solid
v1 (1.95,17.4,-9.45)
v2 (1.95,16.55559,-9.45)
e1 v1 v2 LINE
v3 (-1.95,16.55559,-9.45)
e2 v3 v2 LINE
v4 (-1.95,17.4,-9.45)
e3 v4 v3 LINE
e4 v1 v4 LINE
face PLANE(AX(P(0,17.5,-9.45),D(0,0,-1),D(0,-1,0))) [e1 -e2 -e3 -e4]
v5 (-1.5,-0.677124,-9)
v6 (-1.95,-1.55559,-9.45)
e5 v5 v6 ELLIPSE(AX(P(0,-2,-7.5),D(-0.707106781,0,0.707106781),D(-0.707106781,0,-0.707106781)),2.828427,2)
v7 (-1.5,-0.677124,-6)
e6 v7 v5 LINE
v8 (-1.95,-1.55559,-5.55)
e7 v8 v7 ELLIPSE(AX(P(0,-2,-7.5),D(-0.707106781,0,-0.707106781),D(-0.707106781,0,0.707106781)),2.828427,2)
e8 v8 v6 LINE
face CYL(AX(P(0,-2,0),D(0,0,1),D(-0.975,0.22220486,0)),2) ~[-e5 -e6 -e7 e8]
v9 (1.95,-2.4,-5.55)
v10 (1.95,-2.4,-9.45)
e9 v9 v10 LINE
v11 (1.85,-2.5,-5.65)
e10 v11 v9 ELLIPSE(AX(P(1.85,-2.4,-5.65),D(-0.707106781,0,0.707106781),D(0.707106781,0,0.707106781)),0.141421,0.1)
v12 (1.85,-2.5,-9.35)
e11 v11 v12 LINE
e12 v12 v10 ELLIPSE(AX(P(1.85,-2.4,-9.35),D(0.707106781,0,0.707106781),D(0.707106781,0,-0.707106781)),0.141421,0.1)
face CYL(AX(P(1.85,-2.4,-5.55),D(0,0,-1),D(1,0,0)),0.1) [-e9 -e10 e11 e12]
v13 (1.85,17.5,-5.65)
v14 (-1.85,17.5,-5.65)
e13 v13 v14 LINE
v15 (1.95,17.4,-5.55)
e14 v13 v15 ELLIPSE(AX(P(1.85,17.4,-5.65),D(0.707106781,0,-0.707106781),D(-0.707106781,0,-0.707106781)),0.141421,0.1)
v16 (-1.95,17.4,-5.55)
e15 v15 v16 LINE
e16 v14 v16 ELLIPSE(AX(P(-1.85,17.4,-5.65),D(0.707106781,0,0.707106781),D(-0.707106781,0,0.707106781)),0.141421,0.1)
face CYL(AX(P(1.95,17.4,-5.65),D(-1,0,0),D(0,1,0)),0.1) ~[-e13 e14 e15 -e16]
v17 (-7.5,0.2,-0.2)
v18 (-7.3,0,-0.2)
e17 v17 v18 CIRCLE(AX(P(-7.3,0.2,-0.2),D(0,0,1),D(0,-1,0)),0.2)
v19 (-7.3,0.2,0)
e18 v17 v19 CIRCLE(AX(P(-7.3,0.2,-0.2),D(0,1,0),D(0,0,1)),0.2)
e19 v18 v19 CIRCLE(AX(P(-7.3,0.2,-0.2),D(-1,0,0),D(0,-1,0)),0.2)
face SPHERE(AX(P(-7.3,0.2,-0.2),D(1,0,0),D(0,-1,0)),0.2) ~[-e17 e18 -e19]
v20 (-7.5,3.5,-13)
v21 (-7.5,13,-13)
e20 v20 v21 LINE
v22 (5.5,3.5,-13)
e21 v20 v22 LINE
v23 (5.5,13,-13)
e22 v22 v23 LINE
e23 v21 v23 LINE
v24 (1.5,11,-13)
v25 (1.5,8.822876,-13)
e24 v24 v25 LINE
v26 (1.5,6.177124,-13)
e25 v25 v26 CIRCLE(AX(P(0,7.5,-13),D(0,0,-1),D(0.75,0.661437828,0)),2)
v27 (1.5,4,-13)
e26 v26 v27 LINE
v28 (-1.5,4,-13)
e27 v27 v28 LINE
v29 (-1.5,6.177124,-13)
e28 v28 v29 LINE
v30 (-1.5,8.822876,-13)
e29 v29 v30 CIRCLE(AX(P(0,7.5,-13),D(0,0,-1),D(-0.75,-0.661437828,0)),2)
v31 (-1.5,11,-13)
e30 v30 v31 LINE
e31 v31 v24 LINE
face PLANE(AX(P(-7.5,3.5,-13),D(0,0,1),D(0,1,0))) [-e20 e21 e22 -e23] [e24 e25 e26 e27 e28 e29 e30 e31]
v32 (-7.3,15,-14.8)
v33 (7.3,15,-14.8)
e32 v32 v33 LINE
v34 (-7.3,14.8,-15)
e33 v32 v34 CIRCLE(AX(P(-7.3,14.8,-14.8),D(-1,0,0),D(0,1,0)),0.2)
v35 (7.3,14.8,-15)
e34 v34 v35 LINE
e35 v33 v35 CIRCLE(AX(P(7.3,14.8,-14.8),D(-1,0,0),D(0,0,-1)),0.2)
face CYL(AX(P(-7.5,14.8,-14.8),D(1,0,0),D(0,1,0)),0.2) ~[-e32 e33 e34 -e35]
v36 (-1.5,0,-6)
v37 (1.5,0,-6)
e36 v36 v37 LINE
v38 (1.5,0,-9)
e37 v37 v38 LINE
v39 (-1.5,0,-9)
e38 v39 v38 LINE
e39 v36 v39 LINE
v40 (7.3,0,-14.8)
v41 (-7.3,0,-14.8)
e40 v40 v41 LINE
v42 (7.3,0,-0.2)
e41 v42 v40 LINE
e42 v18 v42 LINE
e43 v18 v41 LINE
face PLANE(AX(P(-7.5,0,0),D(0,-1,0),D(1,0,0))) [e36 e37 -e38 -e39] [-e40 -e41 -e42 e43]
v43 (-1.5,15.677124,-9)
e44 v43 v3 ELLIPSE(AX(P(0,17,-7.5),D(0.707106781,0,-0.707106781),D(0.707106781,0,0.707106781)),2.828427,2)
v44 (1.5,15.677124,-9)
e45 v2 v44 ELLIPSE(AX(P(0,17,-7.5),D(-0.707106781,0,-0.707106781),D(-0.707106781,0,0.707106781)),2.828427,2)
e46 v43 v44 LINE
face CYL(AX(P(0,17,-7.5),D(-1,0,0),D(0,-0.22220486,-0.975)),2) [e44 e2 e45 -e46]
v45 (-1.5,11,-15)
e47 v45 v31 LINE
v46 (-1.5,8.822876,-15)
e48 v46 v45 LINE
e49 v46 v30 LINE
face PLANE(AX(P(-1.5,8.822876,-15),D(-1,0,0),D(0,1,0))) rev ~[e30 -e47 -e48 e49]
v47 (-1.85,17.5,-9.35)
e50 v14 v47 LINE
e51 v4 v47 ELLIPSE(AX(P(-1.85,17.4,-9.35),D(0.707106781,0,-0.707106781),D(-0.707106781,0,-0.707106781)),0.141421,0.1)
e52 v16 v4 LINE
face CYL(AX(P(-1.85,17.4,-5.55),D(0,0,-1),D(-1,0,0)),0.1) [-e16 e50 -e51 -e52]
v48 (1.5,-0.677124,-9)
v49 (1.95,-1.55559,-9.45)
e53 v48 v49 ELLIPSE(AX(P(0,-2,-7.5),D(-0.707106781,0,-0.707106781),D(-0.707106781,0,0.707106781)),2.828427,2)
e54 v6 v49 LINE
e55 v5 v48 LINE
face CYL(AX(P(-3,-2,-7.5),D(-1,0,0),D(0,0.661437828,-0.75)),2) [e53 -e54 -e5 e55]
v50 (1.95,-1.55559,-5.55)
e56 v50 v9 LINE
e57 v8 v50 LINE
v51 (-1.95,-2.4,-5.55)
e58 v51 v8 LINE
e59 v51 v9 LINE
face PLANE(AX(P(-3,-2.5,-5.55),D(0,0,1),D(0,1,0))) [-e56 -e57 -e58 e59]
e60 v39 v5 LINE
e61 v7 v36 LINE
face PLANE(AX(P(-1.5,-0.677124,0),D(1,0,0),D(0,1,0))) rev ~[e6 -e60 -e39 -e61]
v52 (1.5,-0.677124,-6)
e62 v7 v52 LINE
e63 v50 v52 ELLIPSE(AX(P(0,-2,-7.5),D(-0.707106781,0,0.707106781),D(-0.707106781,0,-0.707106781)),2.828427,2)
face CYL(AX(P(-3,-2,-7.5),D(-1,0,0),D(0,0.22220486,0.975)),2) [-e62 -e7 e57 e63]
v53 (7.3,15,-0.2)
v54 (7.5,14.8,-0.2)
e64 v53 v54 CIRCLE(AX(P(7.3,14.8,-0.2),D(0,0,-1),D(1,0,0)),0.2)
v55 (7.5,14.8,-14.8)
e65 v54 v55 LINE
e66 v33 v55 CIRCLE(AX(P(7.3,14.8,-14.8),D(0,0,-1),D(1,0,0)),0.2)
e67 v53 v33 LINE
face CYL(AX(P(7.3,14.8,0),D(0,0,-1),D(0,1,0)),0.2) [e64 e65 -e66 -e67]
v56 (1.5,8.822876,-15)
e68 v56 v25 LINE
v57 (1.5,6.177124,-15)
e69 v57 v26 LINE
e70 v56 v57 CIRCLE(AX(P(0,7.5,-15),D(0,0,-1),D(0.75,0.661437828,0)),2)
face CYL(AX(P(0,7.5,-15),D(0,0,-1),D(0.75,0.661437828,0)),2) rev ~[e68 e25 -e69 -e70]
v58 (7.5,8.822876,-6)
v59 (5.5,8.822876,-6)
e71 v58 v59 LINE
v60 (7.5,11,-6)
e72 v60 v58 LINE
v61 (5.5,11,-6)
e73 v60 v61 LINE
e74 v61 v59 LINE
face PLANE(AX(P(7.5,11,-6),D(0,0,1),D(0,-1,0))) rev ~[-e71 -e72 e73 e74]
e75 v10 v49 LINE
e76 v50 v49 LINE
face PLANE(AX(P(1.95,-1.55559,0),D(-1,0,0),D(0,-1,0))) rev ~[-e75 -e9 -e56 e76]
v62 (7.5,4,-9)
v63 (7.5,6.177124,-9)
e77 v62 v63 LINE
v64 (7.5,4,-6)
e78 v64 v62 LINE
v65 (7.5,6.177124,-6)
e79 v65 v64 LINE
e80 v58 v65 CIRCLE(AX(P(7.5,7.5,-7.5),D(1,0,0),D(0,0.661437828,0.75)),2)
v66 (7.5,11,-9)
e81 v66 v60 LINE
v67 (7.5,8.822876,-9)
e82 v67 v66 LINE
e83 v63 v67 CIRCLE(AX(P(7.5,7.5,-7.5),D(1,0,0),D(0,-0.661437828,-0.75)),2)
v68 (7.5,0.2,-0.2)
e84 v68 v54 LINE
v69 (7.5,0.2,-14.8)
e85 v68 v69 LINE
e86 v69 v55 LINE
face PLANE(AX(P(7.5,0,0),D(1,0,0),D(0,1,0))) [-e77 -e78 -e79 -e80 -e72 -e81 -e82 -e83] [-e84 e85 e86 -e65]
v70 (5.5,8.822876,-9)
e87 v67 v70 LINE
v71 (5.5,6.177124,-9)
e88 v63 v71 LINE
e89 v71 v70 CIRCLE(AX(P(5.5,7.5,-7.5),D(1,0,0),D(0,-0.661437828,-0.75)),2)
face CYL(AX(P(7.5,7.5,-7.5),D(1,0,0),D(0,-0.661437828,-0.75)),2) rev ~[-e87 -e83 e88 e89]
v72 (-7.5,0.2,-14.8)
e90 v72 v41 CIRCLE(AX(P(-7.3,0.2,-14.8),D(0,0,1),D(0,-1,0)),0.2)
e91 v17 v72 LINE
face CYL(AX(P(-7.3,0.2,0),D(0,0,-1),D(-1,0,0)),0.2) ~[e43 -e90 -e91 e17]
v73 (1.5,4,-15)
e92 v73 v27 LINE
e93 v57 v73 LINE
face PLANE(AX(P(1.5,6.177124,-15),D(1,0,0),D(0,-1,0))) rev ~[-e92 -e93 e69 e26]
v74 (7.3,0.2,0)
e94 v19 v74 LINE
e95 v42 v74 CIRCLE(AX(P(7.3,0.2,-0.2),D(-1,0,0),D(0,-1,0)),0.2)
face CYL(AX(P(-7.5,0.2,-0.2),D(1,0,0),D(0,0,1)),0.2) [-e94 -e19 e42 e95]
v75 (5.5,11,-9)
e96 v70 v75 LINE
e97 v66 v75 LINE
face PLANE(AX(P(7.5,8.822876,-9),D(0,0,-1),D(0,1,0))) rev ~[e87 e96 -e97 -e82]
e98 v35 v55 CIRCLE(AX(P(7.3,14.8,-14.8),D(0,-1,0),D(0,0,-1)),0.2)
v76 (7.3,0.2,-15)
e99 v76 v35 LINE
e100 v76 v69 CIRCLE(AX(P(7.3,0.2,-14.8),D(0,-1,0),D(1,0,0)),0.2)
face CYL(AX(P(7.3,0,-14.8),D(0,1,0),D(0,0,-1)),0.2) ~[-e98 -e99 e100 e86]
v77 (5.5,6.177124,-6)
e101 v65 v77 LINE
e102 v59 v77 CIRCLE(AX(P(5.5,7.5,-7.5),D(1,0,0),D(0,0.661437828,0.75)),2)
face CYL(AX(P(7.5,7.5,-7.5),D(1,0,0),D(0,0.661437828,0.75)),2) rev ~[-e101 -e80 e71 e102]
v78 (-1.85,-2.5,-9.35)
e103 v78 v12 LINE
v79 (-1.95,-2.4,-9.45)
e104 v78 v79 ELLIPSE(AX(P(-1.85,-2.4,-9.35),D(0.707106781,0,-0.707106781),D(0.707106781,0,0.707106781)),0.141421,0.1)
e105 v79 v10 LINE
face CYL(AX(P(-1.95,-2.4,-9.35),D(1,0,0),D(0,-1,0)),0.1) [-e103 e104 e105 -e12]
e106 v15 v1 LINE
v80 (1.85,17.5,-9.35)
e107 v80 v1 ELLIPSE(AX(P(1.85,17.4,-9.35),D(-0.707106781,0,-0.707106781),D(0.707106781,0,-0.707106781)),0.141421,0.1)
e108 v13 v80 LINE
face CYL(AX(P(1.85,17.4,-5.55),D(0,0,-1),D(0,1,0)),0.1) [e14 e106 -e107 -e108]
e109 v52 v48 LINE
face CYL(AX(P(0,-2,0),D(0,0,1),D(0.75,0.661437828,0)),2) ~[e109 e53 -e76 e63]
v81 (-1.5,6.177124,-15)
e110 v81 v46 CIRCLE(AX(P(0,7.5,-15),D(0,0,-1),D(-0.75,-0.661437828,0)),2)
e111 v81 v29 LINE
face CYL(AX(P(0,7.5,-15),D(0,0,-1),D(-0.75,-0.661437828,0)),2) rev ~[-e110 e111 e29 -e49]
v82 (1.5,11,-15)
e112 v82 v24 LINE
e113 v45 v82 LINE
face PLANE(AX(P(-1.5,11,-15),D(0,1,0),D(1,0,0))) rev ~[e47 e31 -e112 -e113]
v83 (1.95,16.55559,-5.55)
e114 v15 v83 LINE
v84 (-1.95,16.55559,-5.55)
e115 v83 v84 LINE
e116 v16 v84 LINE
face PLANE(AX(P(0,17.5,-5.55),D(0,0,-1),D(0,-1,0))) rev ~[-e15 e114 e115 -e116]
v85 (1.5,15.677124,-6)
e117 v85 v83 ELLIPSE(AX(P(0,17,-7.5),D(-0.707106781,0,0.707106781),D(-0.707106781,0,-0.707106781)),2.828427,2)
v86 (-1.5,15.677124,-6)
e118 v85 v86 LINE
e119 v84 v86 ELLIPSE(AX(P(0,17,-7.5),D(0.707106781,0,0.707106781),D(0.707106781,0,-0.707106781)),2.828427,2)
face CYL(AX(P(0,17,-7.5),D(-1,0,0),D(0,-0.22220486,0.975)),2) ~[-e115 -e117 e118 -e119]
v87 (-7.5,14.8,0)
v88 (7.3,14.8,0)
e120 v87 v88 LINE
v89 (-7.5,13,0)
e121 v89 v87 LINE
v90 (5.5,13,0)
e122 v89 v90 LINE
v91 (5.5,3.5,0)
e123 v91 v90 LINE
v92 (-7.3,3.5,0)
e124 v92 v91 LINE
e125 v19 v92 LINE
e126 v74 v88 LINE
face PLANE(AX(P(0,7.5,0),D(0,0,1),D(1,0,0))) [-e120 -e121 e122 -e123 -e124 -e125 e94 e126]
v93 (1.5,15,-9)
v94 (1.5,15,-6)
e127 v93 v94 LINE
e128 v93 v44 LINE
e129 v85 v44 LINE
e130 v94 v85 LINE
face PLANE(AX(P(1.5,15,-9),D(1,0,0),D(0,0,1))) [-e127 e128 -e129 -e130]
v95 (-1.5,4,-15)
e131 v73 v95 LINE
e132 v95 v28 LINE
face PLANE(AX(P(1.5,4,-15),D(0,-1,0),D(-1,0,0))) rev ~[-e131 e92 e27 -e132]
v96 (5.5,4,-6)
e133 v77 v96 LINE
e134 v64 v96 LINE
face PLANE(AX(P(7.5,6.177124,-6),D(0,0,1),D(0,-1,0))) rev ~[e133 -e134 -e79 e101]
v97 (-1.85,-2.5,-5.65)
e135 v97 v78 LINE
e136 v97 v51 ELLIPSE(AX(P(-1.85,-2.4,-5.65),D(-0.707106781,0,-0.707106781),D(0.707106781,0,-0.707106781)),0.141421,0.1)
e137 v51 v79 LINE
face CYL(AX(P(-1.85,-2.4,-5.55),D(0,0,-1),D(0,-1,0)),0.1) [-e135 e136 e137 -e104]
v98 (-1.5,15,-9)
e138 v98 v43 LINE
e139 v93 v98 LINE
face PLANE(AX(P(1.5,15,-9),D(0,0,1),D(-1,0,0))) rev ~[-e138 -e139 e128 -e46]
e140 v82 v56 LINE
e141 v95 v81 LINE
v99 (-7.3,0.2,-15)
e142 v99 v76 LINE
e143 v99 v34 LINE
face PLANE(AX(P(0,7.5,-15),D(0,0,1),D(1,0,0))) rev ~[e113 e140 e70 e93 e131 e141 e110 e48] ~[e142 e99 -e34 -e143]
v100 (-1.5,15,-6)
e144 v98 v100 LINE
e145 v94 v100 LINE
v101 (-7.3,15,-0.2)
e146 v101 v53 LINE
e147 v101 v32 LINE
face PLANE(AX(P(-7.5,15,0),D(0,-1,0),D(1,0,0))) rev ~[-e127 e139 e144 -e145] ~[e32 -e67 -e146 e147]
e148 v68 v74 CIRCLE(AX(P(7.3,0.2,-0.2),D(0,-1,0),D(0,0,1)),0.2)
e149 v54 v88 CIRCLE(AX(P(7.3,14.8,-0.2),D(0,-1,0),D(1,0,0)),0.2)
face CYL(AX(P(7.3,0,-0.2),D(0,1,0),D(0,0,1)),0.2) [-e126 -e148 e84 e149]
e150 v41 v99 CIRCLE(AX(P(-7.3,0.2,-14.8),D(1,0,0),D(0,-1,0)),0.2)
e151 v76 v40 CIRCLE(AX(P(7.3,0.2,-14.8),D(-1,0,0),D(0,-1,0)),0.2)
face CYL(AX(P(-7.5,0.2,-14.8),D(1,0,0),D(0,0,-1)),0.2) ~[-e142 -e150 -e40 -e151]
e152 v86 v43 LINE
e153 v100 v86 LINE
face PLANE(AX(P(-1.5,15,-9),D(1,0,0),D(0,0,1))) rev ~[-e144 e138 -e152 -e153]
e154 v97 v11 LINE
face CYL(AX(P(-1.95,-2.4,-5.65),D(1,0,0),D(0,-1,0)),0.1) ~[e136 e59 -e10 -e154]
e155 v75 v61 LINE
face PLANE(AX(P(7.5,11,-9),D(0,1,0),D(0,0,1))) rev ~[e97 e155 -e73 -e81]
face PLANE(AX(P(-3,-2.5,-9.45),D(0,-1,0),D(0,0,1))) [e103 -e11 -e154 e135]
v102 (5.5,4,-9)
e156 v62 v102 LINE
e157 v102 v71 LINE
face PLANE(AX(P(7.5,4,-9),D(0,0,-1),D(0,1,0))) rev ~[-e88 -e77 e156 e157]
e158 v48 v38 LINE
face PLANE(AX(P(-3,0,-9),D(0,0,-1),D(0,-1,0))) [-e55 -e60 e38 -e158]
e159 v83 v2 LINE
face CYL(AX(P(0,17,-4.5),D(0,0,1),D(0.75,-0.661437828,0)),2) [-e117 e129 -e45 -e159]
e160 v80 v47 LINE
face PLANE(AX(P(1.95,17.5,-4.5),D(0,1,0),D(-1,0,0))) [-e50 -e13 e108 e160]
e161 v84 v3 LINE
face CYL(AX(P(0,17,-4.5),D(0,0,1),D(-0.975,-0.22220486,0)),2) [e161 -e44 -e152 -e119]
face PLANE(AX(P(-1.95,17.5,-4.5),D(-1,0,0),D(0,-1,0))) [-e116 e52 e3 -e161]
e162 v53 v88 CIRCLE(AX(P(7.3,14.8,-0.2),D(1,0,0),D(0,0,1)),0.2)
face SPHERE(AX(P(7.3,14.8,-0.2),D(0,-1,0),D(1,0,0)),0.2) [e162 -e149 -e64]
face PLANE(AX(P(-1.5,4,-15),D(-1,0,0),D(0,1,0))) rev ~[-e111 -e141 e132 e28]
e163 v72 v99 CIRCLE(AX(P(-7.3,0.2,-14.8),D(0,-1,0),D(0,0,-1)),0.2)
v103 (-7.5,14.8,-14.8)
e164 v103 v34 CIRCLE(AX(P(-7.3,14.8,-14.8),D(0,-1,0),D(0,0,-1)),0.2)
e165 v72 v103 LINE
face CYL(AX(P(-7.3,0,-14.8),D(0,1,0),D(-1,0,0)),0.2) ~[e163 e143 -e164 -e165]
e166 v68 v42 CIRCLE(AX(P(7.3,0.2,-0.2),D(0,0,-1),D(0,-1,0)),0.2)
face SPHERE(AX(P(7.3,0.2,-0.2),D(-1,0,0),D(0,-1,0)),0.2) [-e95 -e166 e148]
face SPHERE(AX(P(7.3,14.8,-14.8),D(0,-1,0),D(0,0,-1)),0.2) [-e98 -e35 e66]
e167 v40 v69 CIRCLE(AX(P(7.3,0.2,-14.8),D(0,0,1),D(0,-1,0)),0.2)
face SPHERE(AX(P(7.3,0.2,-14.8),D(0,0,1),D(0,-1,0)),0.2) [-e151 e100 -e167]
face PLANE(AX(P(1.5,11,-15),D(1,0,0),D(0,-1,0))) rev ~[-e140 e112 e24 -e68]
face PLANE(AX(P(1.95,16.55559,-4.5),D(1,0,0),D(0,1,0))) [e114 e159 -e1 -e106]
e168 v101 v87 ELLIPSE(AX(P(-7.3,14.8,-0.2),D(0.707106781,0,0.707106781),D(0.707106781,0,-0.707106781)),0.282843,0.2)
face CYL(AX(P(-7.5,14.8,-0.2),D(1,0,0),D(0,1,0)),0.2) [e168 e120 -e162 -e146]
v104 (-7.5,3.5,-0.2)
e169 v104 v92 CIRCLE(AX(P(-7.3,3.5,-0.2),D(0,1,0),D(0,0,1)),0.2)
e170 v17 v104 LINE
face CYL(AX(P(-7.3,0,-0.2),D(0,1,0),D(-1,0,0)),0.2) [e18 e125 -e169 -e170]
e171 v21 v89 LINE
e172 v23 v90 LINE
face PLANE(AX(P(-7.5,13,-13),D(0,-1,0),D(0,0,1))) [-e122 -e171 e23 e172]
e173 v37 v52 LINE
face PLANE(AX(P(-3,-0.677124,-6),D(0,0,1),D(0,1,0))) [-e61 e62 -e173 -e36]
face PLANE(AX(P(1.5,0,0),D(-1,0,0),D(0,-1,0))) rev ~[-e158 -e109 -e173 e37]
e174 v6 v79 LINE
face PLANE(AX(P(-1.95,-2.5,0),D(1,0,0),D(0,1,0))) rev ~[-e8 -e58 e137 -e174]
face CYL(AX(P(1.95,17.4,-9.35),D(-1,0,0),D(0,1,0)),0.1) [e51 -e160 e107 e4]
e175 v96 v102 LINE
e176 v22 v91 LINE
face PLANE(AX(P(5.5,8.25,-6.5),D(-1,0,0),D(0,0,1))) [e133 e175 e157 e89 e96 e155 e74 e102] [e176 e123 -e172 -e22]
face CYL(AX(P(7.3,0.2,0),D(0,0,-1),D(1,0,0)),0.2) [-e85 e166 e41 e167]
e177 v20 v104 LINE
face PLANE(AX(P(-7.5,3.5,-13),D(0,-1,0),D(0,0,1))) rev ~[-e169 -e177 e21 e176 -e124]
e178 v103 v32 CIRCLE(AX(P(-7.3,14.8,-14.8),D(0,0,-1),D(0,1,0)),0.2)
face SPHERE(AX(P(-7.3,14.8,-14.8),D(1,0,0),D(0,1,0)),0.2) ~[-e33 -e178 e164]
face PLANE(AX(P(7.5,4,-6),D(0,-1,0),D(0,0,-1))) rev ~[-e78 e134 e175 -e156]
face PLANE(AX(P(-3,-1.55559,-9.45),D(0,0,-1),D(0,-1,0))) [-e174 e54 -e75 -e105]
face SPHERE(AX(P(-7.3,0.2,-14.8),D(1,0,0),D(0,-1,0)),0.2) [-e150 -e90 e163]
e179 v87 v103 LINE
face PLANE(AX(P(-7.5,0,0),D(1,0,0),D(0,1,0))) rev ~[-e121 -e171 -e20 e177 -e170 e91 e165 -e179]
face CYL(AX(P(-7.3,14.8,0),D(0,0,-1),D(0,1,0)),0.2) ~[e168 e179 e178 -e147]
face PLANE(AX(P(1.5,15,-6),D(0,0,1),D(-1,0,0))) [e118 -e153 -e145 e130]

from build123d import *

# Parameters (mm, degrees)
SKETCH_1_W                      = 15
SKETCH_1_H                      = 15
EXTRUDE_1_DEPTH                 = 15
SKETCH_2_W                      = 13
SKETCH_2_H                      = 9.5
CUT_EXTRUDE_1_DEPTH             = 13
EXTRUDE_START                   = -4.5
EXTRUDE_2_DEPTH                 = 6
SKETCH_5_W                      = 3
SKETCH_5_H                      = 3
EXTRUDE_3_DEPTH                 = 1
CUT_EXTRUDE_3_REACH             = 26.238
CUT_EXTRUDE_4_REACH             = 29.5
CUT_EXTRUDE_5_REACH             = 26.238
CUT_EXTRUDE_5_DIRECTION_2_REACH = 26.238
FILLET_1_R                      = 0.1
FILLET_2_R                      = 0.2
EXTRUDE_4_DEPTH                 = 3
EXTRUDE_4_DEPTH_BACK            = 3
CUT_EXTRUDE_6_DEPTH             = 15
FILLET_3_R                      = 0.1


with BuildPart() as part:
    # 草图1 → 凸台-拉伸1 (new body)
    with BuildSketch(Plane.XY):
        with Locations((0, 7.5)):
            Rectangle(SKETCH_1_W, SKETCH_1_H)
    extrude(amount=-EXTRUDE_1_DEPTH)

    # 草图2 → 切除-拉伸1 (cut)
    with BuildSketch(Plane.ZY.offset(7.5)):
        with Locations((-6.5, 8.25)):
            Rectangle(SKETCH_2_W, SKETCH_2_H)
    extrude(amount=-CUT_EXTRUDE_1_DEPTH, mode=Mode.SUBTRACT)



with BuildPart() as body_2:
    # 草图4 → 凸台-拉伸2 (new body)
    with BuildSketch(Plane.XY.offset(EXTRUDE_START)):
        with BuildLine():
            Line((-1.5, 15.677124344), (1.5, 15.677124344))
            ThreePointArc((1.5, 15.677124344), (1.780042303, 16.088161527), (1.95, 16.555590279))
            Line((1.95, 16.555590279), (1.95, 17.5))
            Line((1.95, 17.5), (-1.95, 17.5))
            Line((-1.95, 17.5), (-1.95, 16.555590279))
            ThreePointArc((-1.95, 16.555590279), (-1.780042303, 16.088161527), (-1.5, 15.677124344))
        make_face()
    extrude(amount=-EXTRUDE_2_DEPTH)


with BuildPart() as part_1:
    add(part.part)

    add(body_2.part)  # 凸台-拉伸3 merges body 2
    # 草图5 → 凸台-拉伸3 (add)
    with BuildSketch(Plane(origin=(0, 15, 0), x_dir=(-1, 0, 0), z_dir=(0, 1, 0))):
        with Locations((0, -7.5)):
            Rectangle(SKETCH_5_W, SKETCH_5_H)
    extrude(amount=EXTRUDE_3_DEPTH)

    # 草图6 → 切除-拉伸3 (cut, up to next)
    with BuildSketch(Plane(origin=(0, 0, -15), x_dir=(-1, 0, 0), z_dir=(0, 0, -1)), mode=Mode.PRIVATE) as cut_extrude_3_sk1:
        with BuildLine():
            Line((-1.5, 6.177124344), (-1.5, 4))
            Line((-1.5, 4), (1.5, 4))
            Line((1.5, 4), (1.5, 6.177124344))
            ThreePointArc((1.5, 6.177124344), (2, 7.5), (1.5, 8.822875656))
            Line((1.5, 8.822875656), (1.5, 11))
            Line((1.5, 11), (-1.5, 11))
            Line((-1.5, 11), (-1.5, 8.822875656))
            ThreePointArc((-1.5, 8.822875656), (-2, 7.5), (-1.5, 6.177124344))
        make_face()
    cut_extrude_3_tool1 = extrude(cut_extrude_3_sk1.sketch, amount=-CUT_EXTRUDE_3_REACH, mode=Mode.PRIVATE) & part_1.part
    add(cut_extrude_3_tool1.solids().sort_by_distance((0, 7.5, -15))[0], mode=Mode.SUBTRACT)

    # 草图7 → 切除-拉伸4 (cut, up to next)
    with BuildSketch(Plane(origin=(7.5, 0, 0), x_dir=(0, 0, -1), z_dir=(1, 0, 0)), mode=Mode.PRIVATE) as cut_extrude_4_sk1:
        with BuildLine():
            Line((6, 6.177124344), (6, 4))
            Line((6, 4), (9, 4))
            Line((9, 4), (9, 6.177124344))
            ThreePointArc((9, 6.177124344), (9.5, 7.5), (9, 8.822875656))
            Line((9, 8.822875656), (9, 11))
            Line((9, 11), (6, 11))
            Line((6, 11), (6, 8.822875656))
            ThreePointArc((6, 8.822875656), (5.5, 7.5), (6, 6.177124344))
        make_face()
    cut_extrude_4_tool1 = extrude(cut_extrude_4_sk1.sketch, amount=-CUT_EXTRUDE_4_REACH, mode=Mode.PRIVATE) & part_1.part
    add(cut_extrude_4_tool1.solids().sort_by_distance((7.5, 7.5, -7.5))[0], mode=Mode.SUBTRACT)

    # 草图8 → 切除-拉伸5 (cut, up to next)
    with BuildSketch(Plane(origin=(0, 0, 0), x_dir=(0, 0, -1), z_dir=(1, 0, 0)), mode=Mode.PRIVATE) as cut_extrude_5_sk1:
        with BuildLine():
            Line((5.55, 17.5), (5.55, 16.555590279))
            ThreePointArc((5.55, 16.555590279), (5.719957697, 16.088161527), (6, 15.677124344))
            Line((6, 15.677124344), (4.5, 15.677124344))
            Line((4.5, 15.677124344), (4.5, 17.5))
            Line((4.5, 17.5), (5.55, 17.5))
        make_face()
    cut_extrude_5_tool1 = extrude(cut_extrude_5_sk1.sketch, amount=-CUT_EXTRUDE_5_REACH, mode=Mode.PRIVATE) & part_1.part
    # 草图8 → 切除-拉伸5 (cut, up to next)
    with BuildSketch(Plane(origin=(0, 0, 0), x_dir=(0, 0, -1), z_dir=(1, 0, 0)), mode=Mode.PRIVATE) as cut_extrude_5_sk2:
        with BuildLine():
            Line((10.5, 17.5), (9.45, 17.5))
            Line((9.45, 17.5), (9.45, 16.555590279))
            ThreePointArc((9.45, 16.555590279), (9.280042303, 16.088161527), (9, 15.677124344))
            Line((9, 15.677124344), (10.5, 15.677124344))
            Line((10.5, 15.677124344), (10.5, 17.5))
        make_face()
    cut_extrude_5_tool2 = extrude(cut_extrude_5_sk2.sketch, amount=-CUT_EXTRUDE_5_REACH, mode=Mode.PRIVATE) & part_1.part
    add(cut_extrude_5_tool1.solids().sort_by_distance((0, 16.539049, -5.075076))[0], mode=Mode.SUBTRACT)
    add(cut_extrude_5_tool2.solids().sort_by_distance((0, 16.539049, -9.924924))[0], mode=Mode.SUBTRACT)

    # 草图8 → 切除-拉伸5 direction 2 (cut, up to next)
    with BuildSketch(Plane(origin=(0, 0, 0), x_dir=(0, 0, -1), z_dir=(1, 0, 0)), mode=Mode.PRIVATE) as cut_extrude_5_direction_2_sk1:
        with BuildLine():
            Line((5.55, 17.5), (5.55, 16.555590279))
            ThreePointArc((5.55, 16.555590279), (5.719957697, 16.088161527), (6, 15.677124344))
            Line((6, 15.677124344), (4.5, 15.677124344))
            Line((4.5, 15.677124344), (4.5, 17.5))
            Line((4.5, 17.5), (5.55, 17.5))
        make_face()
    cut_extrude_5_direction_2_tool1 = extrude(cut_extrude_5_direction_2_sk1.sketch, amount=CUT_EXTRUDE_5_DIRECTION_2_REACH, mode=Mode.PRIVATE) & part_1.part
    # 草图8 → 切除-拉伸5 direction 2 (cut, up to next)
    with BuildSketch(Plane(origin=(0, 0, 0), x_dir=(0, 0, -1), z_dir=(1, 0, 0)), mode=Mode.PRIVATE) as cut_extrude_5_direction_2_sk2:
        with BuildLine():
            Line((10.5, 17.5), (9.45, 17.5))
            Line((9.45, 17.5), (9.45, 16.555590279))
            ThreePointArc((9.45, 16.555590279), (9.280042303, 16.088161527), (9, 15.677124344))
            Line((9, 15.677124344), (10.5, 15.677124344))
            Line((10.5, 15.677124344), (10.5, 17.5))
        make_face()
    cut_extrude_5_direction_2_tool2 = extrude(cut_extrude_5_direction_2_sk2.sketch, amount=CUT_EXTRUDE_5_DIRECTION_2_REACH, mode=Mode.PRIVATE) & part_1.part
    add(cut_extrude_5_direction_2_tool1.solids().sort_by_distance((0, 16.539049, -5.075076))[0], mode=Mode.SUBTRACT)
    add(cut_extrude_5_direction_2_tool2.solids().sort_by_distance((0, 16.539049, -9.924924))[0], mode=Mode.SUBTRACT)

    # 圆角1
    fillet_1_edges = [part_1.edges().sort_by_distance(p)[0] for p in [
        (0, 17.5, -5.55),
        (1.95, 17.5, -7.5),
        (-1.95, 17.5, -7.5),
        (0, 17.5, -9.45),
    ]]
    fillet(fillet_1_edges, radius=FILLET_1_R)

    # 圆角2
    fillet_2_edges = [part_1.edges().sort_by_distance(p)[0] for p in [
        (0, 0, 0),
        (7.5, 0, -7.5),
        (0, 0, -15),
        (-7.5, 0, -7.5),
        (7.5, 7.5, -15),
        (0, 15, -15),
        (-7.5, 15, -7.5),
        (-7.5, 7.5, -15),
        (-7.5, 1.75, 0),
        (7.5, 7.5, 0),
        (7.5, 15, -7.5),
        (0, 15, 0),
    ]]
    fillet(fillet_2_edges, radius=FILLET_2_R)

    # 草图9 → 凸台-拉伸4 (add, two sides: drawn at the far end of the back side and taken through both)
    with BuildSketch(Plane(origin=(0, 0, 0), x_dir=(0, 0, -1), z_dir=(1, 0, 0)).offset(-EXTRUDE_4_DEPTH_BACK)):
        with BuildLine():
            Line((6, 0), (9, 0))
            Line((9, 0), (9, -0.677124344))
            ThreePointArc((9, -0.677124344), (9.280042303, -1.088161527), (9.45, -1.555590279))
            Line((9.45, -1.555590279), (9.45, -2.5))
            Line((9.45, -2.5), (5.55, -2.5))
            Line((5.55, -2.5), (5.55, -1.555590279))
            ThreePointArc((5.55, -1.555590279), (5.719957697, -1.088161527), (6, -0.677124344))
            Line((6, -0.677124344), (6, 0))
        make_face()
    extrude(amount=EXTRUDE_4_DEPTH + EXTRUDE_4_DEPTH_BACK)

    # 草图10 → 切除-拉伸6 (cut)
    with BuildSketch(Plane.XY):
        with BuildLine():
            Line((-1.95, -2.5), (-1.95, -1.555590279))
            ThreePointArc((-1.95, -1.555590279), (-1.780042303, -1.088161527), (-1.5, -0.677124344))
            Line((-1.5, -0.677124344), (-1.5, 0))
            Line((-1.5, 0), (-3, 0))
            Line((-3, 0), (-3, -2.5))
            Line((-3, -2.5), (-1.95, -2.5))
        make_face()
        with BuildLine():
            Line((1.5, 0), (1.5, -0.677124344))
            ThreePointArc((1.5, -0.677124344), (1.780042303, -1.088161527), (1.95, -1.555590279))
            Line((1.95, -1.555590279), (1.95, -2.5))
            Line((1.95, -2.5), (3, -2.5))
            Line((3, -2.5), (3, 0))
            Line((3, 0), (1.5, 0))
        make_face()
    extrude(amount=-CUT_EXTRUDE_6_DEPTH, mode=Mode.SUBTRACT)

    # 圆角3
    fillet_3_edges = [part_1.edges().sort_by_distance(p)[0] for p in [
        (0, -2.5, -9.45),
        (0, -2.5, -5.55),
        (-1.95, -2.5, -7.5),
        (1.95, -2.5, -7.5),
    ]]
    fillet(fillet_3_edges, radius=FILLET_3_R)


solid = part_1.part
